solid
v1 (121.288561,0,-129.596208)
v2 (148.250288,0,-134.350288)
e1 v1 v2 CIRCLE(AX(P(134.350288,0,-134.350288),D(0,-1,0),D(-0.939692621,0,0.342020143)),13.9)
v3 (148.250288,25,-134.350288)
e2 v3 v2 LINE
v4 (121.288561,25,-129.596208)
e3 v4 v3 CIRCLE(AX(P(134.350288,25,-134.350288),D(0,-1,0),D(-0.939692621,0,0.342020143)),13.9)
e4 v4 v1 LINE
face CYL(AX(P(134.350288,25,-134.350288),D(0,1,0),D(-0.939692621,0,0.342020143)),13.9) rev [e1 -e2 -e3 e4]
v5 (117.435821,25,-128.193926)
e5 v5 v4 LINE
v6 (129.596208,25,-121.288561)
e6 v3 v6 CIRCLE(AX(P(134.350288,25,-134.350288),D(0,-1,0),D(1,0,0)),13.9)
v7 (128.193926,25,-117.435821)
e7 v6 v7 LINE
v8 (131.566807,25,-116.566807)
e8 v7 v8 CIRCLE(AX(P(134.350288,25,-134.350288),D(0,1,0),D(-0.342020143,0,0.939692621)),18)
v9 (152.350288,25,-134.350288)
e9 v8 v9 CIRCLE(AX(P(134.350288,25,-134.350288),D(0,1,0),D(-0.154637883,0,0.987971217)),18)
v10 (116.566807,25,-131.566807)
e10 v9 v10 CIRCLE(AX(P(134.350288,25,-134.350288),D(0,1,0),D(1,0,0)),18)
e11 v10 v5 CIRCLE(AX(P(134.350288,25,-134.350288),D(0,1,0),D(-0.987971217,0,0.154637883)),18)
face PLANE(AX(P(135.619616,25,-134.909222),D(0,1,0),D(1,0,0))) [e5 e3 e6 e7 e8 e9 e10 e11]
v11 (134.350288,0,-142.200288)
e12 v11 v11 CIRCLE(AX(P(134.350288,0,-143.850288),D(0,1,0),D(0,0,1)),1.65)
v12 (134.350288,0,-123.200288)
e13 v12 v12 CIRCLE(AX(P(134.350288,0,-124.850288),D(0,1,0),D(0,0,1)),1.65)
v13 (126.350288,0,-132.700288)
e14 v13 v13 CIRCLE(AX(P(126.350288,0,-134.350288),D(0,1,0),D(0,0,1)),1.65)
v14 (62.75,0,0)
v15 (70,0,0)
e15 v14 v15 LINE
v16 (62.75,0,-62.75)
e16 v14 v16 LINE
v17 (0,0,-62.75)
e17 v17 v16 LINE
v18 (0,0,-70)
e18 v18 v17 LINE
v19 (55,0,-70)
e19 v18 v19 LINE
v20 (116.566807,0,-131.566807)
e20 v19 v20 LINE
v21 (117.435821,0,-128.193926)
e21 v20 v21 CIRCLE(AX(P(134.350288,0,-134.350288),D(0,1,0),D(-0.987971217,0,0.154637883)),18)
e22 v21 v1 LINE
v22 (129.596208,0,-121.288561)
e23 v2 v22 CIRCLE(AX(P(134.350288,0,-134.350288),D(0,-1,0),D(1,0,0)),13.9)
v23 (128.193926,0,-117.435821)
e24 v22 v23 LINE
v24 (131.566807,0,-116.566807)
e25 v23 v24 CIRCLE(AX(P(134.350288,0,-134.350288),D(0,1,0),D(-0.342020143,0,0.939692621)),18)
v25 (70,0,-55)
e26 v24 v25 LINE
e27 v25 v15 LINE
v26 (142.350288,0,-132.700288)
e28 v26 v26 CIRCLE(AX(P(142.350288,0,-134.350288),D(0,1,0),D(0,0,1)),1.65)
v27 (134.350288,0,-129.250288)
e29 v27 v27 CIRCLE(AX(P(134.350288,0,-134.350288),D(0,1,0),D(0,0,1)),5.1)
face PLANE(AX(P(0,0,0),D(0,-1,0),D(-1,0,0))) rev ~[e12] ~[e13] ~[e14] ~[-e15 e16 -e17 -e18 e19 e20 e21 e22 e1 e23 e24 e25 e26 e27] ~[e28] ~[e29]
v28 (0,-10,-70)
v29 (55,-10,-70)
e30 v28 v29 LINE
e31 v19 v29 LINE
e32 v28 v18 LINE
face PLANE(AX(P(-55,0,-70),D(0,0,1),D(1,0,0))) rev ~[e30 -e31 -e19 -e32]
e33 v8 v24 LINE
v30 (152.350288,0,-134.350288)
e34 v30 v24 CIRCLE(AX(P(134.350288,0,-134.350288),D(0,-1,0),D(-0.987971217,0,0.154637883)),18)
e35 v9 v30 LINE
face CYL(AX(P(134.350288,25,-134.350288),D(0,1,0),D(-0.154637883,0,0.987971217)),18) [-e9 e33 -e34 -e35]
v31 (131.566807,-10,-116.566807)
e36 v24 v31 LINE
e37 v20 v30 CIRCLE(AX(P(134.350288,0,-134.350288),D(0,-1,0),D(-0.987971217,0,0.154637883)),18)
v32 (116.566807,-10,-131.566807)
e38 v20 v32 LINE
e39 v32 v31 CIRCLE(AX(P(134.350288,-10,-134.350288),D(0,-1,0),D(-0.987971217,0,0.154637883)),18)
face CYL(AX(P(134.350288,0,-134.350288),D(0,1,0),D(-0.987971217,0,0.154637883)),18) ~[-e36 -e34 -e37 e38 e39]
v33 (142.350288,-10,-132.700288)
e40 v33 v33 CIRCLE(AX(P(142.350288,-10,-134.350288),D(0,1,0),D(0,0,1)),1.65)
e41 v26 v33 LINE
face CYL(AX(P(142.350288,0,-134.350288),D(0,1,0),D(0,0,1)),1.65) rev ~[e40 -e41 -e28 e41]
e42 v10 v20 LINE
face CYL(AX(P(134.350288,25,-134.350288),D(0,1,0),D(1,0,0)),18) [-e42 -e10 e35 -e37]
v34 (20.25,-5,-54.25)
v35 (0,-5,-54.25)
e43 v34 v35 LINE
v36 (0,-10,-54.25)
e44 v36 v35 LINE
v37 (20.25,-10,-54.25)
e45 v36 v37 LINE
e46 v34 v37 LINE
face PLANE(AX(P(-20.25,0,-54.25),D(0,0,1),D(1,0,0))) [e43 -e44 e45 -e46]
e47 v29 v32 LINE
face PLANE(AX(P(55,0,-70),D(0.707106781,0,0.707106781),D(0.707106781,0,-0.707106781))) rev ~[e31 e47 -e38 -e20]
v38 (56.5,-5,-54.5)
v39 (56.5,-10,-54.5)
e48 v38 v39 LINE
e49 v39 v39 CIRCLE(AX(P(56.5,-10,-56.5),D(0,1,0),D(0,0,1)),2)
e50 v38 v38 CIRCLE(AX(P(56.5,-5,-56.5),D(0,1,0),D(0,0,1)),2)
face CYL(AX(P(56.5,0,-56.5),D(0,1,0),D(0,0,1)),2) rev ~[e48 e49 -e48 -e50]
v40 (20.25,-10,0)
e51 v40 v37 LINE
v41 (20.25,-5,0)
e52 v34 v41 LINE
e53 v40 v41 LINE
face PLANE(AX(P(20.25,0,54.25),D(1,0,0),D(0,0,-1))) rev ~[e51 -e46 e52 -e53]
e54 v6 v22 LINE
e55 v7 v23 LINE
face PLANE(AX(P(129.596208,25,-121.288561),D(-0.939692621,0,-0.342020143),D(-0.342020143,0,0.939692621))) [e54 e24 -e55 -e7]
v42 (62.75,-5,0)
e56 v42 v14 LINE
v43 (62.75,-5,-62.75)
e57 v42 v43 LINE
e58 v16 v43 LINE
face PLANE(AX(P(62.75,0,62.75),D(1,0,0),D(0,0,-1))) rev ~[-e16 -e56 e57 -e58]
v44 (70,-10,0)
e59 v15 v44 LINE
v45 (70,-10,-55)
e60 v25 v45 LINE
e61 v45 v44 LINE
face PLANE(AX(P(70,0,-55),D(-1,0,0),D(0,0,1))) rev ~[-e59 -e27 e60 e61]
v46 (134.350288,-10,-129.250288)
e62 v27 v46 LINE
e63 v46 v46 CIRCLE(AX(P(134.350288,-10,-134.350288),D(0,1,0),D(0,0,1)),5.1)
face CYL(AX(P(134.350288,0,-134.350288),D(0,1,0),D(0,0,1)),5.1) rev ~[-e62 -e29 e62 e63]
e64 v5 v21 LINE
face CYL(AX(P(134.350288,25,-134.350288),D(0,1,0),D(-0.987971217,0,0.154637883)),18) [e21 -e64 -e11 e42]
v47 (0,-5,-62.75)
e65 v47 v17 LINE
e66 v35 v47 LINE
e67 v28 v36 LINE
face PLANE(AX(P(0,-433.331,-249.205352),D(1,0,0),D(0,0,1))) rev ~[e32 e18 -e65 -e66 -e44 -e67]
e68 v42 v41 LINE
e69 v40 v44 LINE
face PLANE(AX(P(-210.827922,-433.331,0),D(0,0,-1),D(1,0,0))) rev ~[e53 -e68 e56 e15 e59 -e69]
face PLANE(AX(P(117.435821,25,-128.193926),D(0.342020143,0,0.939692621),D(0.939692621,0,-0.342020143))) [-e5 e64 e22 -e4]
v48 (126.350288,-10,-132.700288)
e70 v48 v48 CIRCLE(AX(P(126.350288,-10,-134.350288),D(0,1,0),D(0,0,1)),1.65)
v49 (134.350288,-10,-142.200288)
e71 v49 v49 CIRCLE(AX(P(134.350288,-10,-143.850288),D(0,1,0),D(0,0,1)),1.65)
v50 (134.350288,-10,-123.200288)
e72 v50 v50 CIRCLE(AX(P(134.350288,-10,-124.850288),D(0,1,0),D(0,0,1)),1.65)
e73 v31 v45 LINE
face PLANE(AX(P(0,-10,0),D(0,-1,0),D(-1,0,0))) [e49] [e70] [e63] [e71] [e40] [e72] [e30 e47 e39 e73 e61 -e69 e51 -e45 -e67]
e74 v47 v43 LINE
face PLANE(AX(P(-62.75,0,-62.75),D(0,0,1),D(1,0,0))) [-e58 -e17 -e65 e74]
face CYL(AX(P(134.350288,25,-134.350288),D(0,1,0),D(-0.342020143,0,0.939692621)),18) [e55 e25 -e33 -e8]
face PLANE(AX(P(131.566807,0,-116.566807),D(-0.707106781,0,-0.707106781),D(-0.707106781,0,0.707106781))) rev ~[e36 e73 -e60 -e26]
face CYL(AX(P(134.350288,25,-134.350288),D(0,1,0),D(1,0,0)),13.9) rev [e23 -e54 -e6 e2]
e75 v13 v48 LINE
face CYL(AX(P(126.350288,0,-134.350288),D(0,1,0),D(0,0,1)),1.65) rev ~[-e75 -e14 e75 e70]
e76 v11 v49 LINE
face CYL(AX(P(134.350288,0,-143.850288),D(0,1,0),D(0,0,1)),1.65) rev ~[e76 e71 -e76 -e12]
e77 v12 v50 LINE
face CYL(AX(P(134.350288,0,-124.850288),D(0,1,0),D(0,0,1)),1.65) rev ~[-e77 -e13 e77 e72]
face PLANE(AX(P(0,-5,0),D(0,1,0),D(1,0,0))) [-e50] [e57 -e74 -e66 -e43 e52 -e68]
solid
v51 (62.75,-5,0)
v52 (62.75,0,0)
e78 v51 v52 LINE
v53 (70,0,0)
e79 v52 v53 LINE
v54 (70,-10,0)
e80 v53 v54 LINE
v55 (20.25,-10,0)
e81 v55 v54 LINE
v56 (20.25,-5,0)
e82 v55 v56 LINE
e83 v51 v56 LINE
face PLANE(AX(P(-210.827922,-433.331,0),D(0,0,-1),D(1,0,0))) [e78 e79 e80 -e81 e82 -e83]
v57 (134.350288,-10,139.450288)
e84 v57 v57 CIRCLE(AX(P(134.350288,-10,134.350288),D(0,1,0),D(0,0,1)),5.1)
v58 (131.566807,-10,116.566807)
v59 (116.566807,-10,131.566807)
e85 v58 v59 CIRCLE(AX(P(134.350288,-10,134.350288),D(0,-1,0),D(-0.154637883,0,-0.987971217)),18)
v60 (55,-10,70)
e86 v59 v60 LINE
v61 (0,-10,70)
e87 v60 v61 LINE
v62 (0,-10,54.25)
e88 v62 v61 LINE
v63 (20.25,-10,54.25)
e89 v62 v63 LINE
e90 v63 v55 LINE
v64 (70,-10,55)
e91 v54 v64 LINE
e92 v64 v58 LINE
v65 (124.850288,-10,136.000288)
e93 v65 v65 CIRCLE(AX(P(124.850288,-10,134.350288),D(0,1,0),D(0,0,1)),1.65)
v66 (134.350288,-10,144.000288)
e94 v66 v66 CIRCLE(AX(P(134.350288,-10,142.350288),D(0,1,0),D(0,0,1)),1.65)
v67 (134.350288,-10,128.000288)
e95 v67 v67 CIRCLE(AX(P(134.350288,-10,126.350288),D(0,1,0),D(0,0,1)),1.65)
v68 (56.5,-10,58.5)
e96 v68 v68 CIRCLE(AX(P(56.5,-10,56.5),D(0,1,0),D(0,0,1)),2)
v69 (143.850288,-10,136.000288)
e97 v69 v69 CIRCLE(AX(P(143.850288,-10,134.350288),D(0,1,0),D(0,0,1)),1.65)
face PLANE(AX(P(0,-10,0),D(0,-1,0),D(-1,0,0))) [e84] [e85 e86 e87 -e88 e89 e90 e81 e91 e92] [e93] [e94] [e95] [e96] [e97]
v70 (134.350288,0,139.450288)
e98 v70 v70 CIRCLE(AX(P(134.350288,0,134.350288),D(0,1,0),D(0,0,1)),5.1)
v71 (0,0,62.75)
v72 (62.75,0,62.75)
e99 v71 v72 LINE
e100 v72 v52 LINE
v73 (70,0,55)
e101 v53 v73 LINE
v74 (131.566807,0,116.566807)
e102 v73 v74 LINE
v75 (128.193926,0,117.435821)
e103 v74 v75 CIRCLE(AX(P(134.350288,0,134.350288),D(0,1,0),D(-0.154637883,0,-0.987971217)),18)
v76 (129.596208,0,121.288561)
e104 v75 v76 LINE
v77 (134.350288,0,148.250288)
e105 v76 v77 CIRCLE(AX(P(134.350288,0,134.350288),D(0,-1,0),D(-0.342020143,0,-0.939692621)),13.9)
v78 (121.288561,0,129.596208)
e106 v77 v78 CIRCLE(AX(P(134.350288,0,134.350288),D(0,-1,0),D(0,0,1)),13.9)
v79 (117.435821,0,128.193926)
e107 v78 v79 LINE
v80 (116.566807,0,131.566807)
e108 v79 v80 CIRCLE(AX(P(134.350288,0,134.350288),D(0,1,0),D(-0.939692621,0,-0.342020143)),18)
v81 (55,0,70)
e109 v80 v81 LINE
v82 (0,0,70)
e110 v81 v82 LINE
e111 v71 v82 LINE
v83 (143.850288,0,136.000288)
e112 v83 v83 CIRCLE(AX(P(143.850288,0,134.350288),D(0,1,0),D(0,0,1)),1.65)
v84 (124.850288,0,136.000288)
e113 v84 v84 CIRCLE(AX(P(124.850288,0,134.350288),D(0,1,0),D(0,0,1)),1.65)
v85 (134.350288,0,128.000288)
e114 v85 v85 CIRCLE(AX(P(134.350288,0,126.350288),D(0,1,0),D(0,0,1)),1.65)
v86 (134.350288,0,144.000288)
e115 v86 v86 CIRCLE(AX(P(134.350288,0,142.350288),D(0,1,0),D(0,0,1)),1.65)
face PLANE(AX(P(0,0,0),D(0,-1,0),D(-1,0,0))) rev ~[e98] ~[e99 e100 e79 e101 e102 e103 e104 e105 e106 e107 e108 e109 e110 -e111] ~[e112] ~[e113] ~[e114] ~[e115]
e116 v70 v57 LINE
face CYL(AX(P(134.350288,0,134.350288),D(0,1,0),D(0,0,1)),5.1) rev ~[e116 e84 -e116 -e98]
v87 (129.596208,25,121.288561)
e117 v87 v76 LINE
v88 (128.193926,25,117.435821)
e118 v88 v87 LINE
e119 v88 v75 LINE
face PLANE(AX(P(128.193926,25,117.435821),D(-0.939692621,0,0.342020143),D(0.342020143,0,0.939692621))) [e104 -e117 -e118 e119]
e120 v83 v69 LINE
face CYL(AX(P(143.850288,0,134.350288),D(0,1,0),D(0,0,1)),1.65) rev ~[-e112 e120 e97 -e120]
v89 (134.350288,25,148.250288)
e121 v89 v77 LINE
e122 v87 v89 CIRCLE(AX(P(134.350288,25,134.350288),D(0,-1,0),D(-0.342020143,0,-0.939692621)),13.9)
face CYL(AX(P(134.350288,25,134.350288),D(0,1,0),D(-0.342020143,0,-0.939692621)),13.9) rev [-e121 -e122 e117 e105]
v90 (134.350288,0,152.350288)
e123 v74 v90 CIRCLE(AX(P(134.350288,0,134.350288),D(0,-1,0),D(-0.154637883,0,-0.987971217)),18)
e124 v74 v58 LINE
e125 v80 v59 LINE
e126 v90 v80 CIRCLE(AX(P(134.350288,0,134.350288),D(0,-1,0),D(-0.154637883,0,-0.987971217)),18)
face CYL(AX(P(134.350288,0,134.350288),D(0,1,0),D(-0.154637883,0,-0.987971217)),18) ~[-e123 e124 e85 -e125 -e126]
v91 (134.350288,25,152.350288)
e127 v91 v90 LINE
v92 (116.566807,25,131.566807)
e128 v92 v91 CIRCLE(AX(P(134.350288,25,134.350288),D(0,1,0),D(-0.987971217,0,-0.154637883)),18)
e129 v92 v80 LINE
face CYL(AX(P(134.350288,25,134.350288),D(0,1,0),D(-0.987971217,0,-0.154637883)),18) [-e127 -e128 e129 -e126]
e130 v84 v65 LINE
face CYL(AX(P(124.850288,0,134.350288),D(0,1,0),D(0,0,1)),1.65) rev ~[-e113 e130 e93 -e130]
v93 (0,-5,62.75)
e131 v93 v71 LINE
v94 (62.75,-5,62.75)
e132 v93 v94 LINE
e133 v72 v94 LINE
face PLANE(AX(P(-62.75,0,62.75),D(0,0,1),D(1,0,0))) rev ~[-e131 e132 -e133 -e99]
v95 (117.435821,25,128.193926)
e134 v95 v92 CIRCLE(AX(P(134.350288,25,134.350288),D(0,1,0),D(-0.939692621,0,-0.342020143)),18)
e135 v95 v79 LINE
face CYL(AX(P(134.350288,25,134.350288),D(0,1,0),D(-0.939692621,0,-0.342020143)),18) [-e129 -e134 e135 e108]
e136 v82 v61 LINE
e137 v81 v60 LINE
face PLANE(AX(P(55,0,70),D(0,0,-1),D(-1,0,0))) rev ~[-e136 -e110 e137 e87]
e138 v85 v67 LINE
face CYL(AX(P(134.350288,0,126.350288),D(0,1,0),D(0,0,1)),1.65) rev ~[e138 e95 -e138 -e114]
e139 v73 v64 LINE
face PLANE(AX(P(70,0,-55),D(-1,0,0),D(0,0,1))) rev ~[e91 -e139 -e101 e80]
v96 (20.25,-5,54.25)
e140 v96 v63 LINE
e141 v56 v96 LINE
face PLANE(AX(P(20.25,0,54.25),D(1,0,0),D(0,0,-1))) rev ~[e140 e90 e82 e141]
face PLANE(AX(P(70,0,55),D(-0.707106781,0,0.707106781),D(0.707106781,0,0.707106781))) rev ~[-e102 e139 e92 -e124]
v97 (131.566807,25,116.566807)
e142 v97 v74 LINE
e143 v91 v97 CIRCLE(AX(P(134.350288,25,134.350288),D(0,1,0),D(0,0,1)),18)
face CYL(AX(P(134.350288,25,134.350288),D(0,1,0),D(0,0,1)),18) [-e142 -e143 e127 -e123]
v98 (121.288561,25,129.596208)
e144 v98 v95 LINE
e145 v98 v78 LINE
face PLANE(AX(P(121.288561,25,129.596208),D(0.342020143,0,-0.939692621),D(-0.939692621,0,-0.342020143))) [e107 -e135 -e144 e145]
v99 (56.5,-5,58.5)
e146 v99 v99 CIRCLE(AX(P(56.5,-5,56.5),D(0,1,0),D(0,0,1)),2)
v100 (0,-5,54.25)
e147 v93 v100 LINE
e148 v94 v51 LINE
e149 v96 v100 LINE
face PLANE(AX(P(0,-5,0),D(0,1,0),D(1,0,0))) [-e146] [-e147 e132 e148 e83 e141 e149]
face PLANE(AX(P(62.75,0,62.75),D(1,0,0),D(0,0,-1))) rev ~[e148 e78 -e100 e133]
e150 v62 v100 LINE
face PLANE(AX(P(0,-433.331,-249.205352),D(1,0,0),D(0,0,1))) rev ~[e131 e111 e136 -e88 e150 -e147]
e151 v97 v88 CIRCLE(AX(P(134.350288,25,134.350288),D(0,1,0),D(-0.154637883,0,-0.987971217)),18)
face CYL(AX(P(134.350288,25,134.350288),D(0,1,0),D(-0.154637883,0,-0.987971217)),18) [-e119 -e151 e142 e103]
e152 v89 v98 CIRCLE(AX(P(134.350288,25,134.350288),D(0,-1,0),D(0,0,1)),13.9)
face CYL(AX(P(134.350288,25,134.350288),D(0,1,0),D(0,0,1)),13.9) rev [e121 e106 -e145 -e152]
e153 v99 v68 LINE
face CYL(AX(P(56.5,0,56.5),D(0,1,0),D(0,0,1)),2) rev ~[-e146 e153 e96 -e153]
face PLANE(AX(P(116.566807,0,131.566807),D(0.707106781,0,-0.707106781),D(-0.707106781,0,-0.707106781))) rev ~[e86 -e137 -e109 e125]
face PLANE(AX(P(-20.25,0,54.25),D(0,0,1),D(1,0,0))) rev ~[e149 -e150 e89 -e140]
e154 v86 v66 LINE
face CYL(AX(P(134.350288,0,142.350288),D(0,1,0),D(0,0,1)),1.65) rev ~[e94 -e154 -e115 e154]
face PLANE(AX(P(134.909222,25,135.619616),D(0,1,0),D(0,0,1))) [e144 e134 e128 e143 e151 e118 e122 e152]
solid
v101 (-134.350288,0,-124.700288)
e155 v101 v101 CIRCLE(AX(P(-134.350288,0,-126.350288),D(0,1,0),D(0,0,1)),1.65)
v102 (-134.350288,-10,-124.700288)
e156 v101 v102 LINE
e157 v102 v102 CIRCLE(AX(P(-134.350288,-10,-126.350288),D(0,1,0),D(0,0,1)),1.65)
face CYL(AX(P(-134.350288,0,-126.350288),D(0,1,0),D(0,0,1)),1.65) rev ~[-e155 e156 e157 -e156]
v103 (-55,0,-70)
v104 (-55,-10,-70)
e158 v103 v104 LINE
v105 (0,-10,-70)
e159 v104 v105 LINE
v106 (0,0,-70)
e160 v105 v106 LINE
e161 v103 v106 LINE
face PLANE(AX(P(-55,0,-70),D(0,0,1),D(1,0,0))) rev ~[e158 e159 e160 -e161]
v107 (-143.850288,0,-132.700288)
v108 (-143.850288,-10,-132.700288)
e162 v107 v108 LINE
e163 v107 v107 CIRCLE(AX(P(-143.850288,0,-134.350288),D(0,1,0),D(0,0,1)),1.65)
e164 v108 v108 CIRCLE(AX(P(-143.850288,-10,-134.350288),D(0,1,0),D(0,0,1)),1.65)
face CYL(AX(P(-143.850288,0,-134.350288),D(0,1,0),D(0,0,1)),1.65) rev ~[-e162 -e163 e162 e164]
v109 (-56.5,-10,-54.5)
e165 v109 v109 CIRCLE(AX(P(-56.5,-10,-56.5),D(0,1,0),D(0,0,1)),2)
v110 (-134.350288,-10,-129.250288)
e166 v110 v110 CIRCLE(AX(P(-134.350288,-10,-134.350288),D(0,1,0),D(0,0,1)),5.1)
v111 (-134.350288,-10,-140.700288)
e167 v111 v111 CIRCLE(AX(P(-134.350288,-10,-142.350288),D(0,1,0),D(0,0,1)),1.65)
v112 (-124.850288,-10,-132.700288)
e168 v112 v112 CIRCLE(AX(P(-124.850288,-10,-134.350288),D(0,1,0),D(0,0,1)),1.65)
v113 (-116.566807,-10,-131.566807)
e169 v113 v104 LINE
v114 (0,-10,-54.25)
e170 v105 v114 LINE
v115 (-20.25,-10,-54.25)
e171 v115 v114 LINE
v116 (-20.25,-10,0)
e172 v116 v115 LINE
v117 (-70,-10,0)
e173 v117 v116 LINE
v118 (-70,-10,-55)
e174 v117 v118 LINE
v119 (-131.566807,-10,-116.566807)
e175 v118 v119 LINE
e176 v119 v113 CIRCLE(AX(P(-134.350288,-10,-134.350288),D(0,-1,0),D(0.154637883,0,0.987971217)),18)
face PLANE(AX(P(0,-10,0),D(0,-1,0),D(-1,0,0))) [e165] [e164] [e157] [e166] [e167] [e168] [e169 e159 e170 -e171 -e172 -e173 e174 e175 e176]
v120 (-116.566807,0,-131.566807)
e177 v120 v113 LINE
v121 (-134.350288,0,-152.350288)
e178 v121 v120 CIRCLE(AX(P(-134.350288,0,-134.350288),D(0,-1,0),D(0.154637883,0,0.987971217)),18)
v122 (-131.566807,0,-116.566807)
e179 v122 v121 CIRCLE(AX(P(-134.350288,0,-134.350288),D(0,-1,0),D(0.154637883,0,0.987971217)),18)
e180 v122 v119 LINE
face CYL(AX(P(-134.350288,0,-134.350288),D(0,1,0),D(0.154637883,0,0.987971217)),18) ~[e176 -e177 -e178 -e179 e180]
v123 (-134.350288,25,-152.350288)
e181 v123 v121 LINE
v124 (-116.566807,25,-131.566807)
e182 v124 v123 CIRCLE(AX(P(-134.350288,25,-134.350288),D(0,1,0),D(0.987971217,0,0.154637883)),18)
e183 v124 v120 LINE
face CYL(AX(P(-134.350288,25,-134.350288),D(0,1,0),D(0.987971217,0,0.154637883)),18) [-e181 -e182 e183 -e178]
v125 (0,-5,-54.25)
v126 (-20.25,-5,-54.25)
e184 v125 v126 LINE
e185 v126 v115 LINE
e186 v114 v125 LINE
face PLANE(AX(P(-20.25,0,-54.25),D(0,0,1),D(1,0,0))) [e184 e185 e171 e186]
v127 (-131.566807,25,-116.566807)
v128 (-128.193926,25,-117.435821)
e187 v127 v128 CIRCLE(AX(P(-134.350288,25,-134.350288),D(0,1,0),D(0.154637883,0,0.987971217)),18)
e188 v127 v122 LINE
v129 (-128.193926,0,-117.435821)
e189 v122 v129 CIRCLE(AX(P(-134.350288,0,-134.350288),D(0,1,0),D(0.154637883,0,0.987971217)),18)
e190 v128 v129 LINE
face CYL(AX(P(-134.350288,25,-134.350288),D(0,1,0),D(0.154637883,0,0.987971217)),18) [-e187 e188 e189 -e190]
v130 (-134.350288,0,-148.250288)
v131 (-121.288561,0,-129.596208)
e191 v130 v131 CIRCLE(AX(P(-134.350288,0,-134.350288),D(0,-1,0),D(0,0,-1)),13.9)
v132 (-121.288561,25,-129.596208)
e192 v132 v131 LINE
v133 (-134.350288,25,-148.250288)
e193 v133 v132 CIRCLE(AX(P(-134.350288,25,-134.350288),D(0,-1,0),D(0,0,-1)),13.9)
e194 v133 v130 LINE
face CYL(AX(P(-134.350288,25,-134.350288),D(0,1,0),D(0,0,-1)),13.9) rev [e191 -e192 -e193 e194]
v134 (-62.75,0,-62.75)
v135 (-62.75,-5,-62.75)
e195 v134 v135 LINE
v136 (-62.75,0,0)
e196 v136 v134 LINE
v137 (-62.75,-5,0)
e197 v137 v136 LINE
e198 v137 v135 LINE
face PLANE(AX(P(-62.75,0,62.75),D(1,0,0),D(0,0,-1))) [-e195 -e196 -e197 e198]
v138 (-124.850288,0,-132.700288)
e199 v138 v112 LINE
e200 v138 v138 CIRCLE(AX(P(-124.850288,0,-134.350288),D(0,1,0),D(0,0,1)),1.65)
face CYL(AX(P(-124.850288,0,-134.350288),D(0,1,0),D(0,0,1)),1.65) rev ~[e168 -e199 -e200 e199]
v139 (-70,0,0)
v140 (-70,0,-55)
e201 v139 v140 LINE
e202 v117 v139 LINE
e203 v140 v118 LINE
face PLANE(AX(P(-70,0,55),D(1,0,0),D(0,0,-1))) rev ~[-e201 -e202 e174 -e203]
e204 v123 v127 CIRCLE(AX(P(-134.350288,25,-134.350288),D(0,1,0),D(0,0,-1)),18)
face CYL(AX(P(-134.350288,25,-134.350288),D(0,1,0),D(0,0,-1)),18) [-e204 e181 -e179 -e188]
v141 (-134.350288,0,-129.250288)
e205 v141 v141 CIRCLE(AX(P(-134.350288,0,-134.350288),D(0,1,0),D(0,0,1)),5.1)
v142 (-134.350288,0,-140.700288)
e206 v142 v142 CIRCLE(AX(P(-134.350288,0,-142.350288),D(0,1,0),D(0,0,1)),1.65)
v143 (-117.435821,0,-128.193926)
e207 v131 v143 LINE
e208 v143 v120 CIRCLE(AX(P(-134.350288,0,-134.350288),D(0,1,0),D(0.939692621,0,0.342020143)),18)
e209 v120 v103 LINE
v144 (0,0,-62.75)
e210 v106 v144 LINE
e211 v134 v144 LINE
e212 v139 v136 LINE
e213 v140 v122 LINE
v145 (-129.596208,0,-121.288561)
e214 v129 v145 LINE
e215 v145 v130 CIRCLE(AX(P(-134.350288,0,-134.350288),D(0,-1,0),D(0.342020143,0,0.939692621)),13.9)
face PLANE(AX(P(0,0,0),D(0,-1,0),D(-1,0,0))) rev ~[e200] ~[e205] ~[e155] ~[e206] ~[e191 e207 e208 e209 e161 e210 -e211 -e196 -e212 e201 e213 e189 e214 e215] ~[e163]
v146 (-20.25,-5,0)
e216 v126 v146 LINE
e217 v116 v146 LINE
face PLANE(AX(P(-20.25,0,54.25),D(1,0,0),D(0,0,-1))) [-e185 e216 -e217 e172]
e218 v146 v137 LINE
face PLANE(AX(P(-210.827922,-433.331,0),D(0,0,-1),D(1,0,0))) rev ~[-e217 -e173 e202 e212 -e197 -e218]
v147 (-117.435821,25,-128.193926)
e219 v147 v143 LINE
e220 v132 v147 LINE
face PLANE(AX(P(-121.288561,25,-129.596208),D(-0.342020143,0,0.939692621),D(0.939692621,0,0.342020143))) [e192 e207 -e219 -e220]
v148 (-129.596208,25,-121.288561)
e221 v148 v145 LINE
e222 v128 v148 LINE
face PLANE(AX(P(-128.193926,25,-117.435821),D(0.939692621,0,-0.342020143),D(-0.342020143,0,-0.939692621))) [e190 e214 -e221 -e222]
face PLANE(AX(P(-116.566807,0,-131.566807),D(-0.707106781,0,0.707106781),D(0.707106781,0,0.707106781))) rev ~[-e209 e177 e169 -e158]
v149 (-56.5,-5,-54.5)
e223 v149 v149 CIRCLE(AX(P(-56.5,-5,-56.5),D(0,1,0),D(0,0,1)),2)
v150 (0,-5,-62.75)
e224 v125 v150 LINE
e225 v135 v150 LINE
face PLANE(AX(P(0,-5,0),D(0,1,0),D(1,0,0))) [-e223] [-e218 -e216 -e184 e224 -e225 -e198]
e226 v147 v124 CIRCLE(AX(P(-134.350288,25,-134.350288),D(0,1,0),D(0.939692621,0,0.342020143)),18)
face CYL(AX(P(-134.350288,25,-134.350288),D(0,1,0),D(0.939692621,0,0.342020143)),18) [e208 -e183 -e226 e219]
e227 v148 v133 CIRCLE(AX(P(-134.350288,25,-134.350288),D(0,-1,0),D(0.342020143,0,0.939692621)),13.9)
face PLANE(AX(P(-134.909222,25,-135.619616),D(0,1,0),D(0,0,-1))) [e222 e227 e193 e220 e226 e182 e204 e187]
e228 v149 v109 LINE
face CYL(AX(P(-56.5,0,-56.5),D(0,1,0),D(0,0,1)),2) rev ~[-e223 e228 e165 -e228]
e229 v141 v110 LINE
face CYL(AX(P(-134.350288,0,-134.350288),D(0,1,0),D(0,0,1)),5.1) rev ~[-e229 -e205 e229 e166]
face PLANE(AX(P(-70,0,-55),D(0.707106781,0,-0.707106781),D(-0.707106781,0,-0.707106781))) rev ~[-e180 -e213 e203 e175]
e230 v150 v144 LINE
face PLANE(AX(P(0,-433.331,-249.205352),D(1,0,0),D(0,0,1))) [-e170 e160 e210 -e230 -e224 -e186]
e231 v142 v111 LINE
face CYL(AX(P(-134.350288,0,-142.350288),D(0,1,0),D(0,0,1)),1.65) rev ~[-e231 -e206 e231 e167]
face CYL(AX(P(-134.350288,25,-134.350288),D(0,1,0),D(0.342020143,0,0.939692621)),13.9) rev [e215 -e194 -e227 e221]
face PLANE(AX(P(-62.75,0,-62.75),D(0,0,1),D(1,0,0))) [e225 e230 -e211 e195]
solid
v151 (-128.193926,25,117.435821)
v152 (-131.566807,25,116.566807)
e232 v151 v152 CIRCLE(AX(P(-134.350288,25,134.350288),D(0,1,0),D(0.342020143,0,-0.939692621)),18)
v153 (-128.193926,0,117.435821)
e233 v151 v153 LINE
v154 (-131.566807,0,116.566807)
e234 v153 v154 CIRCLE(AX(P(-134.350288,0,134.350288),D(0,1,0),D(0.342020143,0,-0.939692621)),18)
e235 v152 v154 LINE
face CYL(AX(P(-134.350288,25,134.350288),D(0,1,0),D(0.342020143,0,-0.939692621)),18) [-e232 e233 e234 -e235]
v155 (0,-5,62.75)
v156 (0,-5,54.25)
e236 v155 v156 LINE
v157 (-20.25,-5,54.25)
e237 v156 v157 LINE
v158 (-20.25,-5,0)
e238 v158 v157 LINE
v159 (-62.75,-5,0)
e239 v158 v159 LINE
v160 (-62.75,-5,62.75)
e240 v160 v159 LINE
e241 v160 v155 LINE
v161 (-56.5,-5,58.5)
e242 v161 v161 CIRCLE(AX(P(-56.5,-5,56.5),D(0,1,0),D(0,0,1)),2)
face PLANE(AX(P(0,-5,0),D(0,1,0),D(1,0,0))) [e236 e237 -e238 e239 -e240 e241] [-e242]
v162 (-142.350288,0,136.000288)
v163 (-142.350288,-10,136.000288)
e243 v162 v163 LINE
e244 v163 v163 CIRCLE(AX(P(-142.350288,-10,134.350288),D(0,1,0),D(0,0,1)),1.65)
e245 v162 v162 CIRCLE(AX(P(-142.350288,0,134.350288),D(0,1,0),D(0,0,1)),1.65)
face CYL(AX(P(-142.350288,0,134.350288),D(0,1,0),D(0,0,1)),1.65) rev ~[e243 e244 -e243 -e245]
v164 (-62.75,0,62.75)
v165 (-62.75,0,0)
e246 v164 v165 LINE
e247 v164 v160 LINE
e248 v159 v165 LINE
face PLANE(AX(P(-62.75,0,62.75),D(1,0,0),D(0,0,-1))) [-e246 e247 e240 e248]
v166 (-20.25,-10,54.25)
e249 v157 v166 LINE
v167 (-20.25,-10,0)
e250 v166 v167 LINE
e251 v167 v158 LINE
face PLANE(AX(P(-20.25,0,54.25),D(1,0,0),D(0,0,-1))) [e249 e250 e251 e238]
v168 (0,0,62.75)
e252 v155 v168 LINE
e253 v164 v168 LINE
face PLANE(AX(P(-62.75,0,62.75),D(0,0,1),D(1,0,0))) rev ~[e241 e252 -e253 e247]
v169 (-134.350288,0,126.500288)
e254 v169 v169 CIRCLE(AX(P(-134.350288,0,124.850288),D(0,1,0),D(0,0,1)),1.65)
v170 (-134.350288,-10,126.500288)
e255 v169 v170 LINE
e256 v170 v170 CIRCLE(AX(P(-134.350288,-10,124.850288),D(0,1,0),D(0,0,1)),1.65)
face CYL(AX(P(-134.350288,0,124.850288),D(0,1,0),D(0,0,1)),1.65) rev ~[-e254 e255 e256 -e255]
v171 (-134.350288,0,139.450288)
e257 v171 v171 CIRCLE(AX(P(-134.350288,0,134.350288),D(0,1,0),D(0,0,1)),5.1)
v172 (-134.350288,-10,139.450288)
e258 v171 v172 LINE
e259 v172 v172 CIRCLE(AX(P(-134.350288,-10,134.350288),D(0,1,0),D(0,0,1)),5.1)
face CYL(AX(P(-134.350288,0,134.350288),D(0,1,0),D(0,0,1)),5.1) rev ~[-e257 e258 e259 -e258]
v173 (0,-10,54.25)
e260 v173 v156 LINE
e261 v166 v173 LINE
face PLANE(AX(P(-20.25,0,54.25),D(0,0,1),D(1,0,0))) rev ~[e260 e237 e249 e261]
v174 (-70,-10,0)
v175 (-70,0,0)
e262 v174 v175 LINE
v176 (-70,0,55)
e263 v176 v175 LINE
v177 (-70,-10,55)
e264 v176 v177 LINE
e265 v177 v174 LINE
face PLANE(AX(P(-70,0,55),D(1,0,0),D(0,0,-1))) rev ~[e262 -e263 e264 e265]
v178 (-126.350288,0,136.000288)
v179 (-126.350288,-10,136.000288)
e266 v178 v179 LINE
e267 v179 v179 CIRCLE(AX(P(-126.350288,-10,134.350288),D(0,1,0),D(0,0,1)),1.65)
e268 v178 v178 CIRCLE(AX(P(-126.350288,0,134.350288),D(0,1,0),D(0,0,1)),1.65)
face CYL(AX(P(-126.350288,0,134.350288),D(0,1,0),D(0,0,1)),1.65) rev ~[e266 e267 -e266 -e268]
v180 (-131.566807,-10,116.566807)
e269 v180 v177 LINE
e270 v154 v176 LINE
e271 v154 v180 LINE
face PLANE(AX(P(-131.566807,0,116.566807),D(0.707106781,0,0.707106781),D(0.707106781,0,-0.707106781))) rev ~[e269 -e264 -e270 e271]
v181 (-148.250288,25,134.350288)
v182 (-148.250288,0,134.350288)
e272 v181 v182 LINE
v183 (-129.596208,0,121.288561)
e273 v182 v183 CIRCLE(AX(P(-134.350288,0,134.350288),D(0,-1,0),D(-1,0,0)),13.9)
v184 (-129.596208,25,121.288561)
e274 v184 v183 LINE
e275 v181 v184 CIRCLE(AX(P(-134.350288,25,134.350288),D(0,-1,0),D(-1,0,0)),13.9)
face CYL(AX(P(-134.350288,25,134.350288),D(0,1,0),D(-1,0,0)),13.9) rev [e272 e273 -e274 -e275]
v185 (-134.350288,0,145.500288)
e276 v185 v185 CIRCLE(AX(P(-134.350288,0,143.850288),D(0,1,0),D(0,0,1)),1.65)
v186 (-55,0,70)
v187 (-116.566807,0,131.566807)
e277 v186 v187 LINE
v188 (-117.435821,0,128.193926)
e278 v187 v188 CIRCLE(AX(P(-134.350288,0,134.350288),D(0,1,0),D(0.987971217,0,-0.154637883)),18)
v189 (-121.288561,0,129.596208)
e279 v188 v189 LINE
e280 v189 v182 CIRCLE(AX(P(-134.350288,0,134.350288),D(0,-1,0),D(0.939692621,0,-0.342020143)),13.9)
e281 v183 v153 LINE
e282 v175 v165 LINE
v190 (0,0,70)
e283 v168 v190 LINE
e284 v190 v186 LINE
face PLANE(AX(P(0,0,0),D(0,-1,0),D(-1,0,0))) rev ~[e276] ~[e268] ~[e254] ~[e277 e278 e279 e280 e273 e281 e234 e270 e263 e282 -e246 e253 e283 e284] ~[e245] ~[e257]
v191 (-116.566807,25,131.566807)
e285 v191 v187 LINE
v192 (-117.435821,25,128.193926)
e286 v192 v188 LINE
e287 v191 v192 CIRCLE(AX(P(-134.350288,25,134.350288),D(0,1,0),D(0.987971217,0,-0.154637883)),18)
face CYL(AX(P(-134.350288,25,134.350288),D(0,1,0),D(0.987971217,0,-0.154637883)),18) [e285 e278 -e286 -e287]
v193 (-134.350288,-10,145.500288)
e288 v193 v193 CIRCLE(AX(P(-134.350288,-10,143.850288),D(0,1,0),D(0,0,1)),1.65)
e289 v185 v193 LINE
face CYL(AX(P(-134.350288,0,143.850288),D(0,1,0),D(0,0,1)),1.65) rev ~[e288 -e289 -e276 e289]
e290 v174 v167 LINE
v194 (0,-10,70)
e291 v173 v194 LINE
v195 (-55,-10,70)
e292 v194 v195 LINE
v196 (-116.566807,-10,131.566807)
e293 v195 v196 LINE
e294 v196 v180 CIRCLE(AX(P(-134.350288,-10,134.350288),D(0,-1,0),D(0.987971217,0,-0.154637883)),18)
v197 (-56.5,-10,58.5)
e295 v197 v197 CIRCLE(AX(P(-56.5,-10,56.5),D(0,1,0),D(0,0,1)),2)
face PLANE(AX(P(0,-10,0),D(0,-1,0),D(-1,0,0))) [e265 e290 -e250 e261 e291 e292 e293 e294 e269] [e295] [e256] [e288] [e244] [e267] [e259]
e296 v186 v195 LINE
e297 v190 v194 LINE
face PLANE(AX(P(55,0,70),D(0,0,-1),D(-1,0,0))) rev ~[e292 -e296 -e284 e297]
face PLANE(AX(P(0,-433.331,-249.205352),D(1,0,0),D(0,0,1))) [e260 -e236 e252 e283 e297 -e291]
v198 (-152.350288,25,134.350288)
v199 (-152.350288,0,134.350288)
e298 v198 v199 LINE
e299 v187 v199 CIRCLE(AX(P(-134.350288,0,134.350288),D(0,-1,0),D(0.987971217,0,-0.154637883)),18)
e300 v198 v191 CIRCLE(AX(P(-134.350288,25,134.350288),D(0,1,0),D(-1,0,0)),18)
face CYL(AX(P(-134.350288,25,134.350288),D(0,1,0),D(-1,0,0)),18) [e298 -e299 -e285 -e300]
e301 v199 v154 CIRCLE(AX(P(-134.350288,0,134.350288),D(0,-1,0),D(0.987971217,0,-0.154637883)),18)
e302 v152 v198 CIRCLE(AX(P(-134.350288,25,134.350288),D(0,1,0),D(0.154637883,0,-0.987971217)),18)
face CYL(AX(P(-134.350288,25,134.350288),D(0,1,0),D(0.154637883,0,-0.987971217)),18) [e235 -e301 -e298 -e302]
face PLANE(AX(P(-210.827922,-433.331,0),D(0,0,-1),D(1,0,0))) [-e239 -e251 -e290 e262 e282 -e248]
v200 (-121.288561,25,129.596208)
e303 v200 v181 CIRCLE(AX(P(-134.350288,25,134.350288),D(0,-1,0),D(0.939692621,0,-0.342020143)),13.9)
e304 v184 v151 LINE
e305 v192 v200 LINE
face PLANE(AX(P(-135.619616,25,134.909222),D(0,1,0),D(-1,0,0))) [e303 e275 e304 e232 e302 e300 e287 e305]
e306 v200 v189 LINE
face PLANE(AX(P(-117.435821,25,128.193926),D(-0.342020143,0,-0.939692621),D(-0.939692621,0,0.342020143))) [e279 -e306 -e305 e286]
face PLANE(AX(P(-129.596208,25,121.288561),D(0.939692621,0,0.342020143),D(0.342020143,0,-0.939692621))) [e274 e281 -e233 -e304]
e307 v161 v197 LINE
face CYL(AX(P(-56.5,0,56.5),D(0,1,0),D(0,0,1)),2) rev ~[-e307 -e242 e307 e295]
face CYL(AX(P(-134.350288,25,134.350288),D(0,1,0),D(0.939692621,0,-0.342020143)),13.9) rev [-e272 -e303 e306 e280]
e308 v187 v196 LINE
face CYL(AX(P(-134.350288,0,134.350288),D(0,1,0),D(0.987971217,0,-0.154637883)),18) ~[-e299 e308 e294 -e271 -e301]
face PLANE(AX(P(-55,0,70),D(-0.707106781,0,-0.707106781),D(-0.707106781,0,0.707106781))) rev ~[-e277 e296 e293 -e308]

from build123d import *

# Parameters (mm, degrees)
SKETCH_1_R                       = 2
SKETCH_1_R_2                     = 1.65
SKETCH_1_R_3                     = 5.1
SKETCH_1_W                       = 40.5
SKETCH_1_H                       = 108.5
EXTRUDE_1_DEPTH                  = 10
EXTRUDE_START                    = 25
EXTRUDE_2_DEPTH                  = 25
PATTERN_CIRCULAR_1_COUNT         = 4
SKETCH_4_W                       = 125.5
SKETCH_4_H                       = 125.5
CUT_EXTRUDE_1_DEPTH              = 5
SPLIT_BODIES_1_SURFACE_1_1_BACK  = 433.331
SPLIT_BODIES_1_SURFACE_1_1_DEPTH = 866.662
SPLIT_BODIES_1_SURFACE_1_2_BACK  = 433.331
SPLIT_BODIES_1_SURFACE_1_2_DEPTH = 866.662
SPLIT_BODIES_1_SURFACE_2_3_BACK  = 433.331
SPLIT_BODIES_1_SURFACE_2_3_DEPTH = 866.662
SPLIT_BODIES_1_SURFACE_2_4_BACK  = 433.331
SPLIT_BODIES_1_SURFACE_2_4_DEPTH = 866.662
SPLIT_BODIES_1_SURFACE_2_5_BACK  = 433.331
SPLIT_BODIES_1_SURFACE_2_5_DEPTH = 866.662
SPLIT_BODIES_1_SURFACE_2_6_BACK  = 433.331
SPLIT_BODIES_1_SURFACE_2_6_DEPTH = 866.662


with BuildPart() as part:
    # 스케치1 → 보스-돌출1 (new body)
    with BuildSketch(Plane(origin=(0, 0, 0), x_dir=(1, 0, 0), z_dir=(0, 1, 0))):
        with BuildLine():
            Line((55, 70), (116.566806525, 131.566806525))
            ThreePointArc((116.566806525, 131.566806525), (147.078210487, 147.078210487), (131.566806525, 116.566806525))
            Line((131.566806525, 116.566806525), (70, 55))
            Line((70, 55), (70, -55))
            Line((70, -55), (131.566806525, -116.566806525))
            ThreePointArc((131.566806525, -116.566806525), (147.078210487, -147.078210487), (116.566806525, -131.566806525))
            Line((116.566806525, -131.566806525), (55, -70))
            Line((55, -70), (-55, -70))
            Line((-55, -70), (-116.566806525, -131.566806525))
            ThreePointArc((-116.566806525, -131.566806525), (-147.078210487, -147.078210487), (-131.566806525, -116.566806525))
            Line((-131.566806525, -116.566806525), (-70, -55))
            Line((-70, -55), (-70, 55))
            Line((-70, 55), (-131.566806525, 116.566806525))
            ThreePointArc((-131.566806525, 116.566806525), (-147.078210487, 147.078210487), (-116.566806525, 131.566806525))
            Line((-116.566806525, 131.566806525), (-55, 70))
            Line((-55, 70), (55, 70))
        make_face()
        with Locations((-56.5, -56.5)):
            Circle(SKETCH_1_R, mode=Mode.SUBTRACT)
        with Locations((56.5, -56.5)):
            Circle(SKETCH_1_R, mode=Mode.SUBTRACT)
        with Locations((56.5, 56.5)):
            Circle(SKETCH_1_R, mode=Mode.SUBTRACT)
        with Locations((-56.5, 56.5)):
            Circle(SKETCH_1_R, mode=Mode.SUBTRACT)
        with Locations((134.350288425, 124.850288425)):
            Circle(SKETCH_1_R_2, mode=Mode.SUBTRACT)
        with Locations((126.350288425, 134.350288425)):
            Circle(SKETCH_1_R_2, mode=Mode.SUBTRACT)
        with Locations((142.350288425, 134.350288425)):
            Circle(SKETCH_1_R_2, mode=Mode.SUBTRACT)
        with Locations((134.350288425, 143.850288425)):
            Circle(SKETCH_1_R_2, mode=Mode.SUBTRACT)
        with Locations((134.350288425, 134.350288425)):
            Circle(SKETCH_1_R_3, mode=Mode.SUBTRACT)
        with Locations((124.850288425, -134.350288425)):
            Circle(SKETCH_1_R_2, mode=Mode.SUBTRACT)
        with Locations((134.350288425, -126.350288425)):
            Circle(SKETCH_1_R_2, mode=Mode.SUBTRACT)
        with Locations((134.350288425, -142.350288425)):
            Circle(SKETCH_1_R_2, mode=Mode.SUBTRACT)
        with Locations((143.850288425, -134.350288425)):
            Circle(SKETCH_1_R_2, mode=Mode.SUBTRACT)
        with Locations((134.350288425, -134.350288425)):
            Circle(SKETCH_1_R_3, mode=Mode.SUBTRACT)
        with Locations((-134.350288425, -124.850288425)):
            Circle(SKETCH_1_R_2, mode=Mode.SUBTRACT)
        with Locations((-126.350288425, -134.350288425)):
            Circle(SKETCH_1_R_2, mode=Mode.SUBTRACT)
        with Locations((-142.350288425, -134.350288425)):
            Circle(SKETCH_1_R_2, mode=Mode.SUBTRACT)
        with Locations((-134.350288425, -143.850288425)):
            Circle(SKETCH_1_R_2, mode=Mode.SUBTRACT)
        with Locations((-134.350288425, -134.350288425)):
            Circle(SKETCH_1_R_3, mode=Mode.SUBTRACT)
        with Locations((-124.850288425, 134.350288425)):
            Circle(SKETCH_1_R_2, mode=Mode.SUBTRACT)
        with Locations((-134.350288425, 126.350288425)):
            Circle(SKETCH_1_R_2, mode=Mode.SUBTRACT)
        with Locations((-134.350288425, 142.350288425)):
            Circle(SKETCH_1_R_2, mode=Mode.SUBTRACT)
        with Locations((-143.850288425, 134.350288425)):
            Circle(SKETCH_1_R_2, mode=Mode.SUBTRACT)
        with Locations((-134.350288425, 134.350288425)):
            Circle(SKETCH_1_R_3, mode=Mode.SUBTRACT)
        Rectangle(SKETCH_1_W, SKETCH_1_H, mode=Mode.SUBTRACT)
    extrude(amount=-EXTRUDE_1_DEPTH)

    # 스케치3 → 보스-돌출2 (add)
    with BuildSketch(Plane(origin=(0, 0, 0), x_dir=(1, 0, 0), z_dir=(0, 1, 0)).offset(EXTRUDE_START)):
        with BuildLine():
            Line((117.435821251, 128.193925846), (121.288560997, 129.596208433))
            ThreePointArc((121.288560997, 129.596208433), (131.936578756, 148.039116192), (148.250288425, 134.350288425))
            ThreePointArc((148.250288425, 134.350288425), (142.323000891, 122.96407501), (129.596208433, 121.288560997))
            Line((129.596208433, 121.288560997), (128.193925846, 117.435821251))
            ThreePointArc((128.193925846, 117.435821251), (129.859297278, 116.919539775), (131.566806525, 116.566806525))
            ThreePointArc((131.566806525, 116.566806525), (146.052795118, 120.673617153), (152.350288425, 134.350288425))
            ThreePointArc((152.350288425, 134.350288425), (132.954343264, 152.296077266), (116.566806525, 131.566806525))
            ThreePointArc((116.566806525, 131.566806525), (116.919539775, 129.859297278), (117.435821251, 128.193925846))
        make_face()
    extrude_2 = extrude(amount=-EXTRUDE_2_DEPTH)

    # 원형 패턴1: 보스-돌출2 ×4 about axis
    pattern_circular_1_axis = Axis((0, 26.25, 0), (0, -1, 0))
    for i in range(1, PATTERN_CIRCULAR_1_COUNT):
        add(extrude_2.rotate(pattern_circular_1_axis, i * 360 / PATTERN_CIRCULAR_1_COUNT))

    # 스케치4 → 컷-돌출1 (cut)
    with BuildSketch(Plane(origin=(0, 0, 0), x_dir=(1, 0, 0), z_dir=(0, 1, 0))):
        Rectangle(SKETCH_4_W, SKETCH_4_H)
    extrude(amount=-CUT_EXTRUDE_1_DEPTH, mode=Mode.SUBTRACT)


with BuildPart() as body_2:
    # Split Bodies 1: the piece behind the surface
    add(part.part)
    # Split Bodies 1 surface 1: a surface, the sketch's curves swept straight by 866.662 mm
    with BuildLine(Plane(origin=(0, 0, 0), x_dir=(1, 0, 0), z_dir=(0, 1, 0)).offset(-SPLIT_BODIES_1_SURFACE_1_1_BACK), mode=Mode.PRIVATE) as split_bodies_1_surface_1_1_path:
        Line((0, 249.205352091), (0, -249.205352091))
    split_bodies_1_surface_1_1 = Shell.extrude(split_bodies_1_surface_1_1_path.wire(), (0 * SPLIT_BODIES_1_SURFACE_1_1_DEPTH, 1 * SPLIT_BODIES_1_SURFACE_1_1_DEPTH, 0 * SPLIT_BODIES_1_SURFACE_1_1_DEPTH))
    split(bisect_by=split_bodies_1_surface_1_1, keep=Keep.BOTTOM)


with BuildPart() as part_1:
    add(part.part)

    # Split Bodies 1: split by a surface, the side it looks to stays
    # Split Bodies 1 surface 1: a surface, the sketch's curves swept straight by 866.662 mm
    with BuildLine(Plane(origin=(0, 0, 0), x_dir=(1, 0, 0), z_dir=(0, 1, 0)).offset(-SPLIT_BODIES_1_SURFACE_1_2_BACK), mode=Mode.PRIVATE) as split_bodies_1_surface_1_2_path:
        Line((0, 249.205352091), (0, -249.205352091))
    split_bodies_1_surface_1_2 = Shell.extrude(split_bodies_1_surface_1_2_path.wire(), (0 * SPLIT_BODIES_1_SURFACE_1_2_DEPTH, 1 * SPLIT_BODIES_1_SURFACE_1_2_DEPTH, 0 * SPLIT_BODIES_1_SURFACE_1_2_DEPTH))
    split(bisect_by=split_bodies_1_surface_1_2, keep=Keep.TOP)


with BuildPart() as body_3:
    # Split Bodies 1 2: the piece behind the surface
    add(part_1.part)
    # Split Bodies 1 surface 2: a surface, the sketch's curves swept straight by 866.662 mm
    with BuildLine(Plane(origin=(0, 0, 0), x_dir=(1, 0, 0), z_dir=(0, 1, 0)).offset(-SPLIT_BODIES_1_SURFACE_2_3_BACK), mode=Mode.PRIVATE) as split_bodies_1_surface_2_3_path:
        Line((-210.82792205, 0), (210.82792205, 0))
    split_bodies_1_surface_2_3 = Shell.extrude(split_bodies_1_surface_2_3_path.wire(), (0 * SPLIT_BODIES_1_SURFACE_2_3_DEPTH, 1 * SPLIT_BODIES_1_SURFACE_2_3_DEPTH, 0 * SPLIT_BODIES_1_SURFACE_2_3_DEPTH))
    split(bisect_by=split_bodies_1_surface_2_3, keep=Keep.BOTTOM)


with BuildPart() as part_2:
    add(part_1.part)

    # Split Bodies 1 2: split by a surface, the side it looks to stays
    # Split Bodies 1 surface 2: a surface, the sketch's curves swept straight by 866.662 mm
    with BuildLine(Plane(origin=(0, 0, 0), x_dir=(1, 0, 0), z_dir=(0, 1, 0)).offset(-SPLIT_BODIES_1_SURFACE_2_4_BACK), mode=Mode.PRIVATE) as split_bodies_1_surface_2_4_path:
        Line((-210.82792205, 0), (210.82792205, 0))
    split_bodies_1_surface_2_4 = Shell.extrude(split_bodies_1_surface_2_4_path.wire(), (0 * SPLIT_BODIES_1_SURFACE_2_4_DEPTH, 1 * SPLIT_BODIES_1_SURFACE_2_4_DEPTH, 0 * SPLIT_BODIES_1_SURFACE_2_4_DEPTH))
    split(bisect_by=split_bodies_1_surface_2_4, keep=Keep.TOP)


with BuildPart() as body_4:
    # Split Bodies 1 2 body 2: the piece behind the surface
    add(body_2.part)
    # Split Bodies 1 surface 2: a surface, the sketch's curves swept straight by 866.662 mm
    with BuildLine(Plane(origin=(0, 0, 0), x_dir=(1, 0, 0), z_dir=(0, 1, 0)).offset(-SPLIT_BODIES_1_SURFACE_2_5_BACK), mode=Mode.PRIVATE) as split_bodies_1_surface_2_5_path:
        Line((-210.82792205, 0), (210.82792205, 0))
    split_bodies_1_surface_2_5 = Shell.extrude(split_bodies_1_surface_2_5_path.wire(), (0 * SPLIT_BODIES_1_SURFACE_2_5_DEPTH, 1 * SPLIT_BODIES_1_SURFACE_2_5_DEPTH, 0 * SPLIT_BODIES_1_SURFACE_2_5_DEPTH))
    split(bisect_by=split_bodies_1_surface_2_5, keep=Keep.BOTTOM)


with BuildPart() as body_2_1:
    add(body_2.part)

    # Split Bodies 1 2 body 2: split by a surface, the side it looks to stays
    # Split Bodies 1 surface 2: a surface, the sketch's curves swept straight by 866.662 mm
    with BuildLine(Plane(origin=(0, 0, 0), x_dir=(1, 0, 0), z_dir=(0, 1, 0)).offset(-SPLIT_BODIES_1_SURFACE_2_6_BACK), mode=Mode.PRIVATE) as split_bodies_1_surface_2_6_path:
        Line((-210.82792205, 0), (210.82792205, 0))
    split_bodies_1_surface_2_6 = Shell.extrude(split_bodies_1_surface_2_6_path.wire(), (0 * SPLIT_BODIES_1_SURFACE_2_6_DEPTH, 1 * SPLIT_BODIES_1_SURFACE_2_6_DEPTH, 0 * SPLIT_BODIES_1_SURFACE_2_6_DEPTH))
    split(bisect_by=split_bodies_1_surface_2_6, keep=Keep.TOP)


solid = Compound([body_3.part, part_2.part, body_4.part, body_2_1.part])
